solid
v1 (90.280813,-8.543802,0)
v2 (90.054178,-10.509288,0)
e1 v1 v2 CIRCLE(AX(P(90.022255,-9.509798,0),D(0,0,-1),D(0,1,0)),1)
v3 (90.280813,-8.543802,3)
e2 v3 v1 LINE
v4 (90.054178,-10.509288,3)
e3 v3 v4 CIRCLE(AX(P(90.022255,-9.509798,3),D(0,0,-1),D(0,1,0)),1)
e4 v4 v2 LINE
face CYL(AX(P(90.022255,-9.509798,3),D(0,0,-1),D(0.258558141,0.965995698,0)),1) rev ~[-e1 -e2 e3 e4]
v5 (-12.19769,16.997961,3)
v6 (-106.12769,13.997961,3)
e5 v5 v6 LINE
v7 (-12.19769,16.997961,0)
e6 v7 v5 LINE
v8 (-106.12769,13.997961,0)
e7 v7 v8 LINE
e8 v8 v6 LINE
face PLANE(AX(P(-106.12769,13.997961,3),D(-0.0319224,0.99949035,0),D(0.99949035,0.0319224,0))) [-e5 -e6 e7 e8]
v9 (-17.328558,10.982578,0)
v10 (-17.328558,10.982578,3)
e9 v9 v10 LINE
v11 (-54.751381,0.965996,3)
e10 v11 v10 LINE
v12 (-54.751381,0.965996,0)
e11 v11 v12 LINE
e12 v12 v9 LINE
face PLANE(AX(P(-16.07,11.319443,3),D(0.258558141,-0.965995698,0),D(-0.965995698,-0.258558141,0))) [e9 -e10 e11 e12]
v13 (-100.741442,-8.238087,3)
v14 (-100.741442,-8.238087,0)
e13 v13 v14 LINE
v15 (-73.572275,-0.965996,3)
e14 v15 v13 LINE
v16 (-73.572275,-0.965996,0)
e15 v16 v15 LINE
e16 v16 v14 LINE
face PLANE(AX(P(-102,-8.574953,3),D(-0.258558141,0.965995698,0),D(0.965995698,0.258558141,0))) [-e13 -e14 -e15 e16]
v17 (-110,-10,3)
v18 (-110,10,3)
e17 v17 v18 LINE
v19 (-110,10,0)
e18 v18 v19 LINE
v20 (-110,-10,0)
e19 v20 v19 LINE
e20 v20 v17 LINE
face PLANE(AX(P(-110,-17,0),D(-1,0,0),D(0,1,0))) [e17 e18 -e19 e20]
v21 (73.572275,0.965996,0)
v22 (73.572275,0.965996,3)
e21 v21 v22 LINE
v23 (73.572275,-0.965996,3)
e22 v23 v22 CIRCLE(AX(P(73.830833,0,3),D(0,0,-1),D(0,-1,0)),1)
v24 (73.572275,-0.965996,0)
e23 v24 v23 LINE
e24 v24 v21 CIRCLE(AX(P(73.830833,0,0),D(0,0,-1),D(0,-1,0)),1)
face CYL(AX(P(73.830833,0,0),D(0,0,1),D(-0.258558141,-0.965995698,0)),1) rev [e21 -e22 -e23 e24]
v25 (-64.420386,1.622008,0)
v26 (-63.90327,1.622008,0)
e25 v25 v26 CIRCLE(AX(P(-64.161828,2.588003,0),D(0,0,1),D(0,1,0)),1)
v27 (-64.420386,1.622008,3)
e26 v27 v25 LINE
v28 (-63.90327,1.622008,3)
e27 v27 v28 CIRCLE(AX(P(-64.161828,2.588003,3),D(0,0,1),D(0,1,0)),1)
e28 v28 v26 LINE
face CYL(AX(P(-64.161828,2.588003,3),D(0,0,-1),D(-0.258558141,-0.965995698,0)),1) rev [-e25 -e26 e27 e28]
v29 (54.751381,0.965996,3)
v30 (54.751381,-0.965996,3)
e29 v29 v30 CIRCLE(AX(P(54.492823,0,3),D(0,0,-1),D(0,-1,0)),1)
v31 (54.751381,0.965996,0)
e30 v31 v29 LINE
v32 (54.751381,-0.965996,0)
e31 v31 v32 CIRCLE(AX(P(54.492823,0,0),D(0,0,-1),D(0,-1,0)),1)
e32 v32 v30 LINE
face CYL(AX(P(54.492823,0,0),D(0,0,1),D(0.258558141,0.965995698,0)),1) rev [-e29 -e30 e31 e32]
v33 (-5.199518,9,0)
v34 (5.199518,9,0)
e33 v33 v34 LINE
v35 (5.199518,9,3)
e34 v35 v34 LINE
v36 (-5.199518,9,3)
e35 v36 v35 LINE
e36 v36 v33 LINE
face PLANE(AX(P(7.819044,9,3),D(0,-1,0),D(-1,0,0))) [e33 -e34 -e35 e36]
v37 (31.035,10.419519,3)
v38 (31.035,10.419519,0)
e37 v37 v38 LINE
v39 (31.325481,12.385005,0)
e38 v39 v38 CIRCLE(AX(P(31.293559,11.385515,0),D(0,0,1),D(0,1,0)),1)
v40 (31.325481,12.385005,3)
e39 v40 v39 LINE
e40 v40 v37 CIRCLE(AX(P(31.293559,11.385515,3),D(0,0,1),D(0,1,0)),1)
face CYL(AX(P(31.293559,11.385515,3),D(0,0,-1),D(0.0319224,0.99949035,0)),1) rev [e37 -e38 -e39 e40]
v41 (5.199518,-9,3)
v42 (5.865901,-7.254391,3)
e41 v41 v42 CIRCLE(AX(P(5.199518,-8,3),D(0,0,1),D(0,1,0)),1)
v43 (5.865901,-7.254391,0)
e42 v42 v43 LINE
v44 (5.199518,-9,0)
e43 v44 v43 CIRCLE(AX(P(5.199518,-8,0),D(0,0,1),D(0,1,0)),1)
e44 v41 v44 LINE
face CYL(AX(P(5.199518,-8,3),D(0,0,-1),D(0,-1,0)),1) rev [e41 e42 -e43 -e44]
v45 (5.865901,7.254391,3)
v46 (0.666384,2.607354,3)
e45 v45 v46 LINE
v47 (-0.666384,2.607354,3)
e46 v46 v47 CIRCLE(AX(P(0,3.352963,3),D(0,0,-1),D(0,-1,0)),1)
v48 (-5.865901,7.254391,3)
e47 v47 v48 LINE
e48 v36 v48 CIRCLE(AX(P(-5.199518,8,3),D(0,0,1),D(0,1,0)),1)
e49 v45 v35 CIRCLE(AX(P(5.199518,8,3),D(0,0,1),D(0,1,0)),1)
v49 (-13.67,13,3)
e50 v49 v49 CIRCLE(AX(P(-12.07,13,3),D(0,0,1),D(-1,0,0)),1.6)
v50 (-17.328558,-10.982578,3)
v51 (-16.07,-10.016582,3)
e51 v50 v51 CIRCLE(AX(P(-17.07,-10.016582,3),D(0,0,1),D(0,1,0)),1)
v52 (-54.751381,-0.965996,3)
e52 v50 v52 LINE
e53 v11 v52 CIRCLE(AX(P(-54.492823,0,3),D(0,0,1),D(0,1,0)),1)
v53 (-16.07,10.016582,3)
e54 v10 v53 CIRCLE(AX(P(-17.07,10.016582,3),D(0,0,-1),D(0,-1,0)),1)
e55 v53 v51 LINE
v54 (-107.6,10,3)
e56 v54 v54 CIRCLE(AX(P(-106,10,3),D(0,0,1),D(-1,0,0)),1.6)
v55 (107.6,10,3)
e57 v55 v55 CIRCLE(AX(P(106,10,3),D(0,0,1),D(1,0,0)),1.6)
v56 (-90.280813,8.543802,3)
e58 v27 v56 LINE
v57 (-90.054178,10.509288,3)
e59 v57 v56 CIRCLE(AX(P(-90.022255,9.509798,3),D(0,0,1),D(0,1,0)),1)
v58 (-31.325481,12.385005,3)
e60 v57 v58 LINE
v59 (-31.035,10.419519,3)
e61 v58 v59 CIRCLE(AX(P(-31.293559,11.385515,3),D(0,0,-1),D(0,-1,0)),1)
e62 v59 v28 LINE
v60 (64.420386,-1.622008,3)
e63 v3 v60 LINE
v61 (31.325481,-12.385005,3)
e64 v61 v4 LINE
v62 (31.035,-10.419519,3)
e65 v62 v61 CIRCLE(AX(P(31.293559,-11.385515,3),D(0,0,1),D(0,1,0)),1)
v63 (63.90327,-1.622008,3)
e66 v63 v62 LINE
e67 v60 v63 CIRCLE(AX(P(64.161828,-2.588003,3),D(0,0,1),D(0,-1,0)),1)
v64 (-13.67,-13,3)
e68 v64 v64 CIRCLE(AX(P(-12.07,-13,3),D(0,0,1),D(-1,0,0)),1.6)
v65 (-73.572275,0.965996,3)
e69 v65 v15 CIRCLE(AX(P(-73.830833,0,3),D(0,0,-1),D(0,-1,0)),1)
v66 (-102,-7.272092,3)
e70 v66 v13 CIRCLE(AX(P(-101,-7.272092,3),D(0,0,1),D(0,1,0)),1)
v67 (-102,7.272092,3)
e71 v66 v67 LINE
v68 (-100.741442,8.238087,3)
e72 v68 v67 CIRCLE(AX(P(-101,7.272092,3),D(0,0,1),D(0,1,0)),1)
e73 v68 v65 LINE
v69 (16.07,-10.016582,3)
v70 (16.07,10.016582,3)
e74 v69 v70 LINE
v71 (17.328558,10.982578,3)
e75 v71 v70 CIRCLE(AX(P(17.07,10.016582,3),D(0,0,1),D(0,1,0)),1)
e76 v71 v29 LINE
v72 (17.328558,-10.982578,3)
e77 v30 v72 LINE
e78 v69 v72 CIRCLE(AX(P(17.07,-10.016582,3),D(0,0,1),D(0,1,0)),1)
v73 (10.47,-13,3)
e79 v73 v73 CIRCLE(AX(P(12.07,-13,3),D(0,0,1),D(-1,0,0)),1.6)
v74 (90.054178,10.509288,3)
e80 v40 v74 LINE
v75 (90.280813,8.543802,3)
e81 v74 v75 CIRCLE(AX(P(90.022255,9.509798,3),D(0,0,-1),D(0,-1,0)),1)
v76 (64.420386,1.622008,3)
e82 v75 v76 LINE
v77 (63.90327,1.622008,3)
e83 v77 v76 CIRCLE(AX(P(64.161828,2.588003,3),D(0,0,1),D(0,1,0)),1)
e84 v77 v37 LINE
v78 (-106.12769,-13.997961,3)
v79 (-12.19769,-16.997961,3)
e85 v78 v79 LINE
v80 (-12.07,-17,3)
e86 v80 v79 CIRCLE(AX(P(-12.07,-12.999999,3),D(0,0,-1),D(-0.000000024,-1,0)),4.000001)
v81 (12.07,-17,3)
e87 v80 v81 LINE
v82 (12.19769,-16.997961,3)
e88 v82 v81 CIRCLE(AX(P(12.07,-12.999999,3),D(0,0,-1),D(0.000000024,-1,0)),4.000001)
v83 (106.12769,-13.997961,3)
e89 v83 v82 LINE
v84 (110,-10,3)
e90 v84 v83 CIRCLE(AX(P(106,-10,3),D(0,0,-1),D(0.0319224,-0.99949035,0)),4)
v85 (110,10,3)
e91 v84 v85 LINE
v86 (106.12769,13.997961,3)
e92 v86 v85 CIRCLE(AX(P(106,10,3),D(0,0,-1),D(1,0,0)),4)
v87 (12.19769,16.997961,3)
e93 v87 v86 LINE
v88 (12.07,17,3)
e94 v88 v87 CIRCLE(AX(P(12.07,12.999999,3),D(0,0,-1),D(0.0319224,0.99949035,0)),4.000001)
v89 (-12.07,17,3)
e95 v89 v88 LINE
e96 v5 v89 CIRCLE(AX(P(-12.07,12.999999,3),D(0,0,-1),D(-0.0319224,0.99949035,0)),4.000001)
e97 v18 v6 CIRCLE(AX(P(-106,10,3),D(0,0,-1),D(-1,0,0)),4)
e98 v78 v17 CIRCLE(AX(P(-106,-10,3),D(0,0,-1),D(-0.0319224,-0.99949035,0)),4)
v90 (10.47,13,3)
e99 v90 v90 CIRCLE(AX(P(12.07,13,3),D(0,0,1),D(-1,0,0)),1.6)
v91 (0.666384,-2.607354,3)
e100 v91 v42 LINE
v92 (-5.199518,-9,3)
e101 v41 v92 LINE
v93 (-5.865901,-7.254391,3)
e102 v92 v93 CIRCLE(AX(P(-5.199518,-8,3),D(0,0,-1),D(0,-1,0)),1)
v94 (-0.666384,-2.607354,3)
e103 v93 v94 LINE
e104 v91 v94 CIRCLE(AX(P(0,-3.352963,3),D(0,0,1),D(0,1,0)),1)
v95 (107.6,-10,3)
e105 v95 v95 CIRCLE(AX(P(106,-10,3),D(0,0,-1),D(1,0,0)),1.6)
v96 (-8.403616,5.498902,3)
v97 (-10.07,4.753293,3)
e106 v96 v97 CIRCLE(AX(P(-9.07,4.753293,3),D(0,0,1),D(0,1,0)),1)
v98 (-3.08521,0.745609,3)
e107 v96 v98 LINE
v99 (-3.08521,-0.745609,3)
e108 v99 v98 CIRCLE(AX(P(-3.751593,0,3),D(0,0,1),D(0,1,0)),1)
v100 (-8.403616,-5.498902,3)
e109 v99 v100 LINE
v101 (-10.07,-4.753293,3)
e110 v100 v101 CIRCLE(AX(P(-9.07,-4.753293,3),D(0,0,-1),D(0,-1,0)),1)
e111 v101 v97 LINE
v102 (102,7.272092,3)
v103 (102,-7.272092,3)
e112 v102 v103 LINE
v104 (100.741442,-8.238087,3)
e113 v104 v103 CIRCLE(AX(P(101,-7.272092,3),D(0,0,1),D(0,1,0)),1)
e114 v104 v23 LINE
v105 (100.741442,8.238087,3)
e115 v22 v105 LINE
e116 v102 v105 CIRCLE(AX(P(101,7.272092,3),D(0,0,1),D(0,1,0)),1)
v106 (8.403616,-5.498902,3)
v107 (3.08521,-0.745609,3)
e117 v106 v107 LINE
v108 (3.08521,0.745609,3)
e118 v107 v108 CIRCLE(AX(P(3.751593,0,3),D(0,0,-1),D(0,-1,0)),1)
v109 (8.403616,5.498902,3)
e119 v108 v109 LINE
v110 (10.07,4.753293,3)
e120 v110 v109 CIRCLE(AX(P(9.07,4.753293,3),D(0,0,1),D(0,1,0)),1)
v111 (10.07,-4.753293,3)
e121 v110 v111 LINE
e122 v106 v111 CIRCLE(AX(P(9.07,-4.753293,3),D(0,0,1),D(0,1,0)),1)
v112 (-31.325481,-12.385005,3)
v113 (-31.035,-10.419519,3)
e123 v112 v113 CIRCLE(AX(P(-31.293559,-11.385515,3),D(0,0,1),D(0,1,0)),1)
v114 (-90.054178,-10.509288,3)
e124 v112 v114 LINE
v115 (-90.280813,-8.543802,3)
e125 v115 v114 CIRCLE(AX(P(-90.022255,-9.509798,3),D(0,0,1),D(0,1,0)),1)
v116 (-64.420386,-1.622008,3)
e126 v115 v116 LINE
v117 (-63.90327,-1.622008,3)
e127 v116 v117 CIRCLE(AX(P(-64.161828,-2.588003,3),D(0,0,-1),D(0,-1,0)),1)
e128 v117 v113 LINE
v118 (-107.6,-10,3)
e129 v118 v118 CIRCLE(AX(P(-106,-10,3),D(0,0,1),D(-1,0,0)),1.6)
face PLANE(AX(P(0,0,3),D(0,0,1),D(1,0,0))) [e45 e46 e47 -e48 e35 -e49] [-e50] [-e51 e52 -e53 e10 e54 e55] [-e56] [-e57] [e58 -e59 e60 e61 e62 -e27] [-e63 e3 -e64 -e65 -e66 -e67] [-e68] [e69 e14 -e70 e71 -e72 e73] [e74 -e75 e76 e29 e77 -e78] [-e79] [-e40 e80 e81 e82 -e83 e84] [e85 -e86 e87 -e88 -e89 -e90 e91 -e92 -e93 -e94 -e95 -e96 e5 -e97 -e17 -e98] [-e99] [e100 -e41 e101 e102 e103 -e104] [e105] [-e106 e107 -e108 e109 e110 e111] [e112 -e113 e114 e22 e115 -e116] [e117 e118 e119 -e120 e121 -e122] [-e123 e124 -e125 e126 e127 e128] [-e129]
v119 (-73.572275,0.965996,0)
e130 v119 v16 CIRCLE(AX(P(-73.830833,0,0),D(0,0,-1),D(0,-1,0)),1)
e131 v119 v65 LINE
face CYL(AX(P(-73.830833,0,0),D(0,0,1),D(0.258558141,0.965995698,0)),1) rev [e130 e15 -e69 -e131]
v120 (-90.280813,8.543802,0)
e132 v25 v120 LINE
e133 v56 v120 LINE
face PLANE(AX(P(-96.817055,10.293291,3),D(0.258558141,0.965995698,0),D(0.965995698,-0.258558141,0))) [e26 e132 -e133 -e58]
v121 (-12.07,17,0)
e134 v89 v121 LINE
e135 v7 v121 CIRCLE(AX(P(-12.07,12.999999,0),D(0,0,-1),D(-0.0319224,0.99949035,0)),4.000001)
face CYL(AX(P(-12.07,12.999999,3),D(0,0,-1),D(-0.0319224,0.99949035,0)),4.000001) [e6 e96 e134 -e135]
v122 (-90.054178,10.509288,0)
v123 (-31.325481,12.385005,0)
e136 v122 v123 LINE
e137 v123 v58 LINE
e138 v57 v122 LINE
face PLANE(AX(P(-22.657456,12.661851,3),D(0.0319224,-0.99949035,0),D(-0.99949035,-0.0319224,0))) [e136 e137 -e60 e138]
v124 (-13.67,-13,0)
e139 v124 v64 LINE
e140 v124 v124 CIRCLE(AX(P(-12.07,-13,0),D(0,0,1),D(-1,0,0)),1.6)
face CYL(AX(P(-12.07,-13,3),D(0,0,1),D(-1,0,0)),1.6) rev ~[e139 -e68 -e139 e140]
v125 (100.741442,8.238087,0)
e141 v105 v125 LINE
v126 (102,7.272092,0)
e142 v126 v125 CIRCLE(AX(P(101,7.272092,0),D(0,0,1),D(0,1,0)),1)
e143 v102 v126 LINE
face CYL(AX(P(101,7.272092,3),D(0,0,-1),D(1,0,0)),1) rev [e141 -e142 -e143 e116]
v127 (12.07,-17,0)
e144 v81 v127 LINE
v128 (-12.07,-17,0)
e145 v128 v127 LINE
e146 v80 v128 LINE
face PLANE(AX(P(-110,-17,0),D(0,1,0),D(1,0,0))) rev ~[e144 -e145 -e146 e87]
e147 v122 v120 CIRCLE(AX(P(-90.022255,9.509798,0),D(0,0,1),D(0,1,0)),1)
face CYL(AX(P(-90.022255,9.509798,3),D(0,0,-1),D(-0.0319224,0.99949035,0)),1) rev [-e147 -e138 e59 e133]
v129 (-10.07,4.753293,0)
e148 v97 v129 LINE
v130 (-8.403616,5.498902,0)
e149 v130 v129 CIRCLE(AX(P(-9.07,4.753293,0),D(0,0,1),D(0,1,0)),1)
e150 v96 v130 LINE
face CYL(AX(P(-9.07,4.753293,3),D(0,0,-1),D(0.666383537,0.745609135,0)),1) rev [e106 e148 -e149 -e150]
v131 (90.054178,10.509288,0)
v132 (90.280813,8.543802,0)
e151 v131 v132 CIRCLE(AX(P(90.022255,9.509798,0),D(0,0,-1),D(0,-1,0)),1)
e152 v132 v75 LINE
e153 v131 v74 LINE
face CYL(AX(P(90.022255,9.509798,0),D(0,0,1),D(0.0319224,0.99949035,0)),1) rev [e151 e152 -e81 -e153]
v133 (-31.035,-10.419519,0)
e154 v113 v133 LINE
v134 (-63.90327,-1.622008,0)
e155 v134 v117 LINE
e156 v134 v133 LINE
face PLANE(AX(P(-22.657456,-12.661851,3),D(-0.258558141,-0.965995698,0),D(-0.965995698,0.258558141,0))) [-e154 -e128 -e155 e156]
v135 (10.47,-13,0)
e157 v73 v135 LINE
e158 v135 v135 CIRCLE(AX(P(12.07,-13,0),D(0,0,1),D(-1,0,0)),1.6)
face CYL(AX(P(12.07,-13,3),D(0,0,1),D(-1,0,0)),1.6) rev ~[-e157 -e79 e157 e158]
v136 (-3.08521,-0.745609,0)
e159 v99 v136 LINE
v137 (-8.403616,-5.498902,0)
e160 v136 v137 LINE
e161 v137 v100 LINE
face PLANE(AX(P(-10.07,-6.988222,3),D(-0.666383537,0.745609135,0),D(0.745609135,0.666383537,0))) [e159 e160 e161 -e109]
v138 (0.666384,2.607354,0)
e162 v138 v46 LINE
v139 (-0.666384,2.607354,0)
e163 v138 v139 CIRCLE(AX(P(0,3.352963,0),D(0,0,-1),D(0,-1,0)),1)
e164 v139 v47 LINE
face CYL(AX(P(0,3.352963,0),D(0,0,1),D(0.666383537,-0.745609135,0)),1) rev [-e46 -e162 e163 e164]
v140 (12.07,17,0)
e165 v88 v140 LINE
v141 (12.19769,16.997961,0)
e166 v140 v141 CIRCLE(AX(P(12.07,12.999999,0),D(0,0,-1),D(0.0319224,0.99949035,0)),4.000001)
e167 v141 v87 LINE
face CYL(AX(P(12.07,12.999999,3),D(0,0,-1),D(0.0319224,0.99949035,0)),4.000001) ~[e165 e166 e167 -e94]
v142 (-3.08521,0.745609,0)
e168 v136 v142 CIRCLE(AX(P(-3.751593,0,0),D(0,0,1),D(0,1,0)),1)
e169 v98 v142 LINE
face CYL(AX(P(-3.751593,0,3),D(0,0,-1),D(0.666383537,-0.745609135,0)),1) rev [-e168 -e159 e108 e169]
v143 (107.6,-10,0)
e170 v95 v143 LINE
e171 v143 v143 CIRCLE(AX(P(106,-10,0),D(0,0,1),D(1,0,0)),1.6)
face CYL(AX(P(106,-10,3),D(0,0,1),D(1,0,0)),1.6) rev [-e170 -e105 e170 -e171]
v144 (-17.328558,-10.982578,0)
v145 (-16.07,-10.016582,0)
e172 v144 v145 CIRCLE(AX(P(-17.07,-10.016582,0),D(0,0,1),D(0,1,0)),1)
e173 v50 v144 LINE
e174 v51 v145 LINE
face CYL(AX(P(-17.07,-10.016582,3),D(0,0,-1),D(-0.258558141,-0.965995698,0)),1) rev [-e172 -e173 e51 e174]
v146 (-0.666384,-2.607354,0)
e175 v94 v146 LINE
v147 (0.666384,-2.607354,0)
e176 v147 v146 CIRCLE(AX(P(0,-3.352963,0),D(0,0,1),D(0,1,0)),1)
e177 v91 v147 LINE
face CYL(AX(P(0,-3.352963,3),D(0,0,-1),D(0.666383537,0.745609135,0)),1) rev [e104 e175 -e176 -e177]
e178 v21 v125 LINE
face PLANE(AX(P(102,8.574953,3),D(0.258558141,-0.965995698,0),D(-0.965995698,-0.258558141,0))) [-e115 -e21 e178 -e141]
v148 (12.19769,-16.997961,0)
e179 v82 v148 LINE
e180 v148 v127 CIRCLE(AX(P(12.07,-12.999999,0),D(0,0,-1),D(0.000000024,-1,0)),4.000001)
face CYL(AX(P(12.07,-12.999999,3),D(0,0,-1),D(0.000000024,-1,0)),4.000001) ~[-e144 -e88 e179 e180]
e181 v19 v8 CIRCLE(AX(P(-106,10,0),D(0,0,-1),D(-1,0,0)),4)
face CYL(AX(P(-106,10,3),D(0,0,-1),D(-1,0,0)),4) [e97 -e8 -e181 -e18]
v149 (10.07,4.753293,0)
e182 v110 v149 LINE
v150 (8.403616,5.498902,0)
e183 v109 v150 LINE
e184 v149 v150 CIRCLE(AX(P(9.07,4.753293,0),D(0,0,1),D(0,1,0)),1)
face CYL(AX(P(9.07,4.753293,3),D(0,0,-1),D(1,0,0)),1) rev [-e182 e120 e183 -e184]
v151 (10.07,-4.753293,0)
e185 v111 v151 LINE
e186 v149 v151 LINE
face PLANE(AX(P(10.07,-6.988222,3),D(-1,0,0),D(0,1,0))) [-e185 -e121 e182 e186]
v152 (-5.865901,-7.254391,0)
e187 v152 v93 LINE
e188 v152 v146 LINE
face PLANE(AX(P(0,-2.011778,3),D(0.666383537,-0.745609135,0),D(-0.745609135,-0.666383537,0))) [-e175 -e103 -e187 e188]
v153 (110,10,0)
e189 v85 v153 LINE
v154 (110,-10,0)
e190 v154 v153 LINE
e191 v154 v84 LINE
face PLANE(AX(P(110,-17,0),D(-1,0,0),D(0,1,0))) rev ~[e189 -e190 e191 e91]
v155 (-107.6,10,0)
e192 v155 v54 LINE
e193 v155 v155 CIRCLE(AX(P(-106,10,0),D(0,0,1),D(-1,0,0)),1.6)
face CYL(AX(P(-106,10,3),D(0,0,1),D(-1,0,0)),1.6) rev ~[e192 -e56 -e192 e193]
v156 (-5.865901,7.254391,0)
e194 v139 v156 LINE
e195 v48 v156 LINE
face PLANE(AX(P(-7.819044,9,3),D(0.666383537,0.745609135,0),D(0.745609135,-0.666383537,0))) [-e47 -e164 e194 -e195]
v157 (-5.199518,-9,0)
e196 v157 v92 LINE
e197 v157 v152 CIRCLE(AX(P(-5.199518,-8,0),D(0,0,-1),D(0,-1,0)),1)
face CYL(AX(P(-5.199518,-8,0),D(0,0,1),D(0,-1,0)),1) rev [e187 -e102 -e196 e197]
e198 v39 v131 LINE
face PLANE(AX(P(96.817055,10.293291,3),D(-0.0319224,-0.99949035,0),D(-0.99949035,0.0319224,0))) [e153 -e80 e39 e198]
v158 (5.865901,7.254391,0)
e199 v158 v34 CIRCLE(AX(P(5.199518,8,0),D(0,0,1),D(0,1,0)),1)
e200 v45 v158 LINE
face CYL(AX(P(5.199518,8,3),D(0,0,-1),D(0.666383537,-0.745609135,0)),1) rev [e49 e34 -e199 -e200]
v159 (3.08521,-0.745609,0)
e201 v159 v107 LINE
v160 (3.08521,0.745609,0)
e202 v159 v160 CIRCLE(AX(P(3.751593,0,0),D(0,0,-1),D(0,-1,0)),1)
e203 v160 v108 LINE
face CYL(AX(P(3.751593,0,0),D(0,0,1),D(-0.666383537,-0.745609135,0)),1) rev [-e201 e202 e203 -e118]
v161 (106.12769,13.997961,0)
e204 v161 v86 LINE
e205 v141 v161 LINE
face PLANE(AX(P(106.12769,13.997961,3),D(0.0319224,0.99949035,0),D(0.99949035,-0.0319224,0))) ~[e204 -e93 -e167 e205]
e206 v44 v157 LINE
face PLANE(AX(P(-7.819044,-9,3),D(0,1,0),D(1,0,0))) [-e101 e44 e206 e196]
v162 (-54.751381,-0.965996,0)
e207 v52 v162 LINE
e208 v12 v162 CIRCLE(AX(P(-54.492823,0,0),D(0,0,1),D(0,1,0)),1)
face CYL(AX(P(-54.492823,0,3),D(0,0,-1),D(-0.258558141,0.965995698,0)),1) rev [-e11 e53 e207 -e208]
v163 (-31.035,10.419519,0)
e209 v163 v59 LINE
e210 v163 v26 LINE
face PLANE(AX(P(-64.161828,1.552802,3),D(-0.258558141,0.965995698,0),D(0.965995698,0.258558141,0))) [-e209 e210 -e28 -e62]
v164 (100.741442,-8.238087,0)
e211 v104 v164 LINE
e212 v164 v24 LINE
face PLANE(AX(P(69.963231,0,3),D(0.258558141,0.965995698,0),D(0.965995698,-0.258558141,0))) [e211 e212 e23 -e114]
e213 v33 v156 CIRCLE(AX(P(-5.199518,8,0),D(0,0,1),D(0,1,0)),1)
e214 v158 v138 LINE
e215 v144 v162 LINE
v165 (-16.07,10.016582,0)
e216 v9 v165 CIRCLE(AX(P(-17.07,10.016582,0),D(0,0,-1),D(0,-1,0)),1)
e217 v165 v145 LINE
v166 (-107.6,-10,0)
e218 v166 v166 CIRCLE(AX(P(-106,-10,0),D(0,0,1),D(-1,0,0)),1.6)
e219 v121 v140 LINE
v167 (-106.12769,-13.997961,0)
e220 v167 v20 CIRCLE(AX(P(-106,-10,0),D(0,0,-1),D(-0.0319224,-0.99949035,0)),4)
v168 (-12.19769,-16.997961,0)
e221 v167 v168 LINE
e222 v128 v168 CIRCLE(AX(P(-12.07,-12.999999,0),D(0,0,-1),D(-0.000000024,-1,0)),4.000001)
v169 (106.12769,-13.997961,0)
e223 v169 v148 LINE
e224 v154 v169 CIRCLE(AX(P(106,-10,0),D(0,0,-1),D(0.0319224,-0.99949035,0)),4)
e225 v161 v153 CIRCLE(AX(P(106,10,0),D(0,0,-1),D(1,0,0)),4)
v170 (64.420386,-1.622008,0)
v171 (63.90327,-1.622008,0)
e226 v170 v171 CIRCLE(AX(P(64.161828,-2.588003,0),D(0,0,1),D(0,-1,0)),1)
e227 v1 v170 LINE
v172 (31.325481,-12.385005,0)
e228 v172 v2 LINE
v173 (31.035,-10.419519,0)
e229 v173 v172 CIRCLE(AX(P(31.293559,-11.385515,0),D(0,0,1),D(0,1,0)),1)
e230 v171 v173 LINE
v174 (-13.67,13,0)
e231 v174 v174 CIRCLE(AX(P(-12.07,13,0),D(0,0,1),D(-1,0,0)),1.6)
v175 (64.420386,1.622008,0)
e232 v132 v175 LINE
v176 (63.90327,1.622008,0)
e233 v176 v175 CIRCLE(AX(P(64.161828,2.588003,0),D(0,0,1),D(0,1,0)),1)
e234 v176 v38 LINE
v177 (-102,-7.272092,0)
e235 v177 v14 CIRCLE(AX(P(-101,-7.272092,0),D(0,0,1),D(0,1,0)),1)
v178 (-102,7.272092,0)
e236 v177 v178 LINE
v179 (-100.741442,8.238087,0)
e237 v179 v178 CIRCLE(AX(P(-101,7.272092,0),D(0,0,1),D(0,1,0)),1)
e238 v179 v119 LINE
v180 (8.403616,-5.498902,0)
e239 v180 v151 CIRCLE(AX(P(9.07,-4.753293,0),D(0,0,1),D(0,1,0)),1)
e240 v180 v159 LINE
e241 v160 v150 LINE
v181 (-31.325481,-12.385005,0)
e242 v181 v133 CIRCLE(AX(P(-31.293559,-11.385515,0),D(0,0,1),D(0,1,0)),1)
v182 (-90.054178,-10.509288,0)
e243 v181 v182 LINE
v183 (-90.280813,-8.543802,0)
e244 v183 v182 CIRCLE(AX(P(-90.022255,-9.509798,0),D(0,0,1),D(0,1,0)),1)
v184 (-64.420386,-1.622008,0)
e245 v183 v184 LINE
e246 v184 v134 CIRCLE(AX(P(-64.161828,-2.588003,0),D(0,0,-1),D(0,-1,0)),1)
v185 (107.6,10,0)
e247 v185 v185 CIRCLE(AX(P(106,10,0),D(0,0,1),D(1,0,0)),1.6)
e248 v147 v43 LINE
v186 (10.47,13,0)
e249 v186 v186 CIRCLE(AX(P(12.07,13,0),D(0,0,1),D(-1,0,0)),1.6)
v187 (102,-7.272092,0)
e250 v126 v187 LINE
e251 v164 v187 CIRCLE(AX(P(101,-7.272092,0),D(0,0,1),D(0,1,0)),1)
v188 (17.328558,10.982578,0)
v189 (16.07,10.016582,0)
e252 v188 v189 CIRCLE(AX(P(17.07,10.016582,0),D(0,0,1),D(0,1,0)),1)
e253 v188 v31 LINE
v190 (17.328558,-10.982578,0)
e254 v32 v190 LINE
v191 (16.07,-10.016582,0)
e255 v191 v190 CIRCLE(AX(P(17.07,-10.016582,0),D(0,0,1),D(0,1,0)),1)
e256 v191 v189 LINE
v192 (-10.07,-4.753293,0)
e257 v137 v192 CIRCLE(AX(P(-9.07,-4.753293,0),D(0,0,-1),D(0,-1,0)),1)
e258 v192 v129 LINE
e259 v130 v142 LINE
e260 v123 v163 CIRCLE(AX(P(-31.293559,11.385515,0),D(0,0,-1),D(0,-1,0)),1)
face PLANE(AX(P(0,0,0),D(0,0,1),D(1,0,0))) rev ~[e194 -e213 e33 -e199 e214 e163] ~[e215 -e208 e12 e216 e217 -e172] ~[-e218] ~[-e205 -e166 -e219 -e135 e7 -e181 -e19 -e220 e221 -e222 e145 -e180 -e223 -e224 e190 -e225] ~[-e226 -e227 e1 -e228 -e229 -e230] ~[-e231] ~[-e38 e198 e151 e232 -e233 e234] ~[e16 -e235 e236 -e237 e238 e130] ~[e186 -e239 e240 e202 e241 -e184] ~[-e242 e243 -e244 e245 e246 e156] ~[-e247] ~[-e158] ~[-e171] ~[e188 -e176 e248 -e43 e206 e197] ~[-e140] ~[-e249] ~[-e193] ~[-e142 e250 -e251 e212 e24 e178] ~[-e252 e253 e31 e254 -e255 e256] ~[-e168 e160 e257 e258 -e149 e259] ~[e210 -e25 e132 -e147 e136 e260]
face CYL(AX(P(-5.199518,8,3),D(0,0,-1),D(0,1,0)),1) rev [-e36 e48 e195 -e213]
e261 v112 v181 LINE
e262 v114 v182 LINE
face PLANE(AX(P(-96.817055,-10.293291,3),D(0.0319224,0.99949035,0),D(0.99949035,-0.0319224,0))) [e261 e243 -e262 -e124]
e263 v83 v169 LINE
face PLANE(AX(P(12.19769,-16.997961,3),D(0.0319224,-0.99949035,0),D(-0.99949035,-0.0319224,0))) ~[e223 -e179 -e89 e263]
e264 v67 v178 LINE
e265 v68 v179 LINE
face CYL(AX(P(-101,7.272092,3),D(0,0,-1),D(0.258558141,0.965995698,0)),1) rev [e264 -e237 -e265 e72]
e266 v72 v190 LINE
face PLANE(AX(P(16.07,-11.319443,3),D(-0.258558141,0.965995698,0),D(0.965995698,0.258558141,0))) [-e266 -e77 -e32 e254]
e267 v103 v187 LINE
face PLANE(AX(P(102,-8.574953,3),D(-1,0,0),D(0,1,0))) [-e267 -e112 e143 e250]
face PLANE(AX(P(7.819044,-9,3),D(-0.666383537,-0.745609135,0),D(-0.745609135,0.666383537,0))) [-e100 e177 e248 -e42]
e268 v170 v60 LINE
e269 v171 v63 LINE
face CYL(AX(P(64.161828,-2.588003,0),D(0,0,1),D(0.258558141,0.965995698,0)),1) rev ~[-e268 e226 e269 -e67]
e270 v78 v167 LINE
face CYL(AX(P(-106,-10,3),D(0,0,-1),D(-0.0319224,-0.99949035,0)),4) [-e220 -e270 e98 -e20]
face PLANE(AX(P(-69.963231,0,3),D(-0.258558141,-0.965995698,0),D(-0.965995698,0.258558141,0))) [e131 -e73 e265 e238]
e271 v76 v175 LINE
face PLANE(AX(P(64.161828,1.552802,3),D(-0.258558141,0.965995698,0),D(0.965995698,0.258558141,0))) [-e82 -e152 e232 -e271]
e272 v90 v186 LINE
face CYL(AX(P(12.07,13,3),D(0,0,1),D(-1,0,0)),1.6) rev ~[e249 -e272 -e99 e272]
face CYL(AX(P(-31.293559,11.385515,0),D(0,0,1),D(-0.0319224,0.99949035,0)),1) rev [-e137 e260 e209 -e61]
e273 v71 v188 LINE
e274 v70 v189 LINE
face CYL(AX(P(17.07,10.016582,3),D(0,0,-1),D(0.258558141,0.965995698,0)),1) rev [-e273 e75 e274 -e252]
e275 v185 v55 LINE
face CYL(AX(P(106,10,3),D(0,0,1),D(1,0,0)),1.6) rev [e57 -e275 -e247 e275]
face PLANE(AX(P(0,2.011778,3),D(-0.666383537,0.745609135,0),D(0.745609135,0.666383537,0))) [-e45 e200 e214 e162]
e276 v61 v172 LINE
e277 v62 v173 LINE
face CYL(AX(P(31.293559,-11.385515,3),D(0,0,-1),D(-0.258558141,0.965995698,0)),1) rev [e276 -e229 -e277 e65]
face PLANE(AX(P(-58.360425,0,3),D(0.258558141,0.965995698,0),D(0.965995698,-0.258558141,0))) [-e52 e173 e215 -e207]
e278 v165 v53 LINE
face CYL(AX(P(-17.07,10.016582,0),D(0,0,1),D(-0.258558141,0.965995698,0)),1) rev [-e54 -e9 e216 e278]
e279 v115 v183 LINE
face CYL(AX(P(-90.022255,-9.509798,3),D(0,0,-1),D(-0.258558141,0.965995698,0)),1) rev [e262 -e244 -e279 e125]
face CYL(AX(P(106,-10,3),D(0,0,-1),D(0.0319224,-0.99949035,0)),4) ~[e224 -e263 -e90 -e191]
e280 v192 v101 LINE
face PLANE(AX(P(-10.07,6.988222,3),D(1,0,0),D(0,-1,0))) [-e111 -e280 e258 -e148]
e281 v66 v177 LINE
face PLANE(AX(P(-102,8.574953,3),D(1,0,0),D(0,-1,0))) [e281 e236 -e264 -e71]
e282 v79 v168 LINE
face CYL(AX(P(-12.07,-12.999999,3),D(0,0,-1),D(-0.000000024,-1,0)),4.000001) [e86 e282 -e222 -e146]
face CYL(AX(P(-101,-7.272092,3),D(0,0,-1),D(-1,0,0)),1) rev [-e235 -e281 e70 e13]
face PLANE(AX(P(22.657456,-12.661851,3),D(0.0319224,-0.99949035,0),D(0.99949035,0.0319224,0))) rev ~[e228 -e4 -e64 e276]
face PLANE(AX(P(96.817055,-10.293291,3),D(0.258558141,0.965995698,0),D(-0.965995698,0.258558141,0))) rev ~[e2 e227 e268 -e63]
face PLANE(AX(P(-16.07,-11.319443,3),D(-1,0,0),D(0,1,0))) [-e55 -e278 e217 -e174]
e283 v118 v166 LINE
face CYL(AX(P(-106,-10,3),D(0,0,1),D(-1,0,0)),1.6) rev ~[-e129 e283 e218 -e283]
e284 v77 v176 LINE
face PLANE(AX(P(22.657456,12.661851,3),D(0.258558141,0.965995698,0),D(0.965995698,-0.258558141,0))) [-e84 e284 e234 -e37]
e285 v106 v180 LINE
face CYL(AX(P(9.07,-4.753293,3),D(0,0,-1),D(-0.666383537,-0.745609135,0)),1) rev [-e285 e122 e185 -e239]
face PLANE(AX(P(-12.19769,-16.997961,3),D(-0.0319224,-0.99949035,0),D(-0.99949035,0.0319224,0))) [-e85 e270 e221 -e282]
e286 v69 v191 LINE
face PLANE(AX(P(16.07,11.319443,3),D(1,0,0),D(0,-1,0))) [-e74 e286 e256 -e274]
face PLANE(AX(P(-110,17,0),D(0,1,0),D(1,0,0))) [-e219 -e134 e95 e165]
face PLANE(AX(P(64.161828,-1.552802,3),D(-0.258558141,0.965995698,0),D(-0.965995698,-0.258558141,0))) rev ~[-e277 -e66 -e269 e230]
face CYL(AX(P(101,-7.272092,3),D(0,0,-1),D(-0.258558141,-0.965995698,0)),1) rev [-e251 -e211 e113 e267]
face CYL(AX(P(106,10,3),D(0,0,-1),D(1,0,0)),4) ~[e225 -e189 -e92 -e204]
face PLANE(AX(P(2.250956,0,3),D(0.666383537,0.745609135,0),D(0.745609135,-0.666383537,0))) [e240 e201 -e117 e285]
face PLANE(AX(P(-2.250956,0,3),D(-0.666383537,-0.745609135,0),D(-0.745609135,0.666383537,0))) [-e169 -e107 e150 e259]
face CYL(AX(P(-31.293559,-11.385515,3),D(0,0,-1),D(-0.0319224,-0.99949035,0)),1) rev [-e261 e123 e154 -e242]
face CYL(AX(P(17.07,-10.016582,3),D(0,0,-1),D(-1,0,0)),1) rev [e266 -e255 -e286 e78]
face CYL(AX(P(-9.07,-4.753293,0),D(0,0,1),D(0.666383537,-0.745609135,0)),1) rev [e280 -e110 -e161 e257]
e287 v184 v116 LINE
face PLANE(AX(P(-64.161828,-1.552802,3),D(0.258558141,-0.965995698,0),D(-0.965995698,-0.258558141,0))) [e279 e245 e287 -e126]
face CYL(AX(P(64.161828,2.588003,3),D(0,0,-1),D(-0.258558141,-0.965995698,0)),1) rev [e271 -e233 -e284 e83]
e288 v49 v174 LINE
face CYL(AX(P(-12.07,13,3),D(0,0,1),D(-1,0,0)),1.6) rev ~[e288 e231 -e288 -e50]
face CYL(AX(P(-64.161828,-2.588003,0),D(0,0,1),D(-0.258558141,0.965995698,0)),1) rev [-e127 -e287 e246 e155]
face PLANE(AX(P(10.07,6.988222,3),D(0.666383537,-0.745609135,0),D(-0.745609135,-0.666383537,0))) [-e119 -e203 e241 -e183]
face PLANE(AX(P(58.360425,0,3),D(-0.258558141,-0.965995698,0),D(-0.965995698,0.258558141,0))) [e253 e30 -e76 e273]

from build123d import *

# Parameters (mm, degrees)
SKETCH_1_W          = 220
SKETCH_1_H          = 34
EXTRUDE_1_DEPTH     = 3
SKETCH_2_R          = 1.6
CUT_EXTRUDE_1_DEPTH = 5
SKETCH_3_R          = 1.6
CUT_EXTRUDE_3_DEPTH = 5
CUT_EXTRUDE_4_DEPTH = 5
FILLET_1_R          = 1


with BuildPart() as part:
    # 草图1 → 凸台-拉伸1 (new body)
    with BuildSketch(Plane.XY):
        Rectangle(SKETCH_1_W, SKETCH_1_H)
    extrude(amount=EXTRUDE_1_DEPTH)

    # 草图2 → 切除-拉伸1 (cut, symmetric)
    with BuildSketch(Plane.XY.offset(3)):
        with Locations(Location((-12.07, 13, 0), (0, 0, 180))):
            Circle(SKETCH_2_R)
        with Locations(Location((12.07, 13, 0), (0, 0, 180))):
            Circle(SKETCH_2_R)
        with Locations(Location((12.07, -13, 0), (0, 0, 180))):
            Circle(SKETCH_2_R)
        with Locations(Location((-12.07, -13, 0), (0, 0, 180))):
            Circle(SKETCH_2_R)
    extrude(amount=CUT_EXTRUDE_1_DEPTH, both=True, mode=Mode.SUBTRACT)

    # 草图3 → 切除-拉伸3 (cut, symmetric)
    with BuildSketch(Plane.XY.offset(3)):
        with BuildLine():
            ThreePointArc((-110, 10), (-108.873217569, 12.782915881), (-106.127689601, 13.997961401))
            Line((-106.127689601, 13.997961401), (-12.197689601, 16.997961401))
            ThreePointArc((-12.197689601, 16.997961401), (-12.133852914, 16.999490318), (-12.069999956, 17))
            Line((-12.069999956, 17), (-110, 17))
            Line((-110, 17), (-110, 10))
        make_face()
        with BuildLine():
            ThreePointArc((-106.127689601, -13.997961401), (-108.873217569, -12.782915881), (-110, -10))
            Line((-110, -10), (-110, -17))
            Line((-110, -17), (-12.070000078, -17))
            ThreePointArc((-12.070000078, -17), (-12.133852976, -16.999490317), (-12.197689601, -16.997961401))
            Line((-12.197689601, -16.997961401), (-106.127689601, -13.997961401))
        make_face()
        with Locations(Location((-106, -10, 0), (0, 0, 180))):
            Circle(SKETCH_3_R)
        with Locations(Location((-106, 10, 0), (0, 0, 180))):
            Circle(SKETCH_3_R)
    cut_extrude_3 = extrude(amount=CUT_EXTRUDE_3_DEPTH, both=True, mode=Mode.SUBTRACT)

    # 镜向1: 切除-拉伸3 across plane
    add(cut_extrude_3.mirror(Plane(origin=(0, 0, 0), x_dir=(0, 0, 1), z_dir=(1, 0, 0))), mode=Mode.SUBTRACT)

    # 草图4 → 切除-拉伸4 (cut, symmetric)
    with BuildSketch(Plane.XY.offset(3)):
        Polygon((-16.07, -11.319443342), (-16.07, 11.319443342), (-58.360424625, 0), align=None)
        Polygon((-64.161827726, 1.552801947), (-22.657455715, 12.661850664), (-96.817055288, 10.293291112), align=None)
        Polygon((-102, -8.574952764), (-69.963230826, 0), (-102, 8.574952764), align=None)
        Polygon((-22.657455715, -12.661850664), (-64.161827726, -1.552801947), (-96.817055288, -10.293291112), align=None)
        Polygon((-10.07, 6.988222073), (-10.07, -6.988222073), (-2.25095597, 0), align=None)
        Polygon((-7.81904403, 9), (0, 2.011777927), (7.81904403, 9), align=None)
        Polygon((10.07, 6.988222073), (2.25095597, 0), (10.07, -6.988222073), align=None)
        Polygon((0, -2.011777927), (-7.81904403, -9), (7.81904403, -9), align=None)
        Polygon((16.07, -11.319443342), (58.360424625, 0), (16.07, 11.319443342), align=None)
        Polygon((64.161827726, 1.552801947), (96.817055288, 10.293291112), (22.657455715, 12.661850664), align=None)
        Polygon((102, 8.574952764), (69.963230826, 0), (102, -8.574952764), align=None)
        Polygon((96.817055288, -10.293291112), (64.161827726, -1.552801947), (22.657455715, -12.661850664), align=None)
    extrude(amount=CUT_EXTRUDE_4_DEPTH, both=True, mode=Mode.SUBTRACT)

    # 圆角1
    fillet_1_edges = [part.edges().sort_by_distance(p)[0] for p in [
        (2.25095597, 0, 1.5),
        (10.07, 6.988222073, 1.5),
        (10.07, -6.988222073, 1.5),
        (0, 2.011777927, 1.5),
        (-7.81904403, 9, 1.5),
        (7.81904403, 9, 1.5),
        (-7.81904403, -9, 1.5),
        (0, -2.011777927, 1.5),
        (7.81904403, -9, 1.5),
        (16.07, 11.319443342, 1.5),
        (58.360424625, 0, 1.5),
        (16.07, -11.319443342, 1.5),
        (-102, -8.574952764, 1.5),
        (-102, 8.574952764, 1.5),
        (-69.963230826, 0, 1.5),
        (-96.817055288, 10.293291112, 1.5),
        (-22.657455715, 12.661850664, 1.5),
        (-64.161827726, 1.552801947, 1.5),
        (-64.161827726, -1.552801947, 1.5),
        (-22.657455715, -12.661850664, 1.5),
        (-96.817055288, -10.293291112, 1.5),
        (-10.07, -6.988222073, 1.5),
        (-10.07, 6.988222073, 1.5),
        (-2.25095597, 0, 1.5),
        (96.817055288, -10.293291112, 1.5),
        (22.657455715, -12.661850664, 1.5),
        (64.161827726, -1.552801947, 1.5),
        (22.657455715, 12.661850664, 1.5),
        (96.817055288, 10.293291112, 1.5),
        (64.161827726, 1.552801947, 1.5),
        (102, 8.574952764, 1.5),
        (102, -8.574952764, 1.5),
        (69.963230826, 0, 1.5),
        (-58.360424625, 0, 1.5),
        (-16.07, 11.319443342, 1.5),
        (-16.07, -11.319443342, 1.5),
    ]]
    fillet(fillet_1_edges, radius=FILLET_1_R)


solid = part.part
